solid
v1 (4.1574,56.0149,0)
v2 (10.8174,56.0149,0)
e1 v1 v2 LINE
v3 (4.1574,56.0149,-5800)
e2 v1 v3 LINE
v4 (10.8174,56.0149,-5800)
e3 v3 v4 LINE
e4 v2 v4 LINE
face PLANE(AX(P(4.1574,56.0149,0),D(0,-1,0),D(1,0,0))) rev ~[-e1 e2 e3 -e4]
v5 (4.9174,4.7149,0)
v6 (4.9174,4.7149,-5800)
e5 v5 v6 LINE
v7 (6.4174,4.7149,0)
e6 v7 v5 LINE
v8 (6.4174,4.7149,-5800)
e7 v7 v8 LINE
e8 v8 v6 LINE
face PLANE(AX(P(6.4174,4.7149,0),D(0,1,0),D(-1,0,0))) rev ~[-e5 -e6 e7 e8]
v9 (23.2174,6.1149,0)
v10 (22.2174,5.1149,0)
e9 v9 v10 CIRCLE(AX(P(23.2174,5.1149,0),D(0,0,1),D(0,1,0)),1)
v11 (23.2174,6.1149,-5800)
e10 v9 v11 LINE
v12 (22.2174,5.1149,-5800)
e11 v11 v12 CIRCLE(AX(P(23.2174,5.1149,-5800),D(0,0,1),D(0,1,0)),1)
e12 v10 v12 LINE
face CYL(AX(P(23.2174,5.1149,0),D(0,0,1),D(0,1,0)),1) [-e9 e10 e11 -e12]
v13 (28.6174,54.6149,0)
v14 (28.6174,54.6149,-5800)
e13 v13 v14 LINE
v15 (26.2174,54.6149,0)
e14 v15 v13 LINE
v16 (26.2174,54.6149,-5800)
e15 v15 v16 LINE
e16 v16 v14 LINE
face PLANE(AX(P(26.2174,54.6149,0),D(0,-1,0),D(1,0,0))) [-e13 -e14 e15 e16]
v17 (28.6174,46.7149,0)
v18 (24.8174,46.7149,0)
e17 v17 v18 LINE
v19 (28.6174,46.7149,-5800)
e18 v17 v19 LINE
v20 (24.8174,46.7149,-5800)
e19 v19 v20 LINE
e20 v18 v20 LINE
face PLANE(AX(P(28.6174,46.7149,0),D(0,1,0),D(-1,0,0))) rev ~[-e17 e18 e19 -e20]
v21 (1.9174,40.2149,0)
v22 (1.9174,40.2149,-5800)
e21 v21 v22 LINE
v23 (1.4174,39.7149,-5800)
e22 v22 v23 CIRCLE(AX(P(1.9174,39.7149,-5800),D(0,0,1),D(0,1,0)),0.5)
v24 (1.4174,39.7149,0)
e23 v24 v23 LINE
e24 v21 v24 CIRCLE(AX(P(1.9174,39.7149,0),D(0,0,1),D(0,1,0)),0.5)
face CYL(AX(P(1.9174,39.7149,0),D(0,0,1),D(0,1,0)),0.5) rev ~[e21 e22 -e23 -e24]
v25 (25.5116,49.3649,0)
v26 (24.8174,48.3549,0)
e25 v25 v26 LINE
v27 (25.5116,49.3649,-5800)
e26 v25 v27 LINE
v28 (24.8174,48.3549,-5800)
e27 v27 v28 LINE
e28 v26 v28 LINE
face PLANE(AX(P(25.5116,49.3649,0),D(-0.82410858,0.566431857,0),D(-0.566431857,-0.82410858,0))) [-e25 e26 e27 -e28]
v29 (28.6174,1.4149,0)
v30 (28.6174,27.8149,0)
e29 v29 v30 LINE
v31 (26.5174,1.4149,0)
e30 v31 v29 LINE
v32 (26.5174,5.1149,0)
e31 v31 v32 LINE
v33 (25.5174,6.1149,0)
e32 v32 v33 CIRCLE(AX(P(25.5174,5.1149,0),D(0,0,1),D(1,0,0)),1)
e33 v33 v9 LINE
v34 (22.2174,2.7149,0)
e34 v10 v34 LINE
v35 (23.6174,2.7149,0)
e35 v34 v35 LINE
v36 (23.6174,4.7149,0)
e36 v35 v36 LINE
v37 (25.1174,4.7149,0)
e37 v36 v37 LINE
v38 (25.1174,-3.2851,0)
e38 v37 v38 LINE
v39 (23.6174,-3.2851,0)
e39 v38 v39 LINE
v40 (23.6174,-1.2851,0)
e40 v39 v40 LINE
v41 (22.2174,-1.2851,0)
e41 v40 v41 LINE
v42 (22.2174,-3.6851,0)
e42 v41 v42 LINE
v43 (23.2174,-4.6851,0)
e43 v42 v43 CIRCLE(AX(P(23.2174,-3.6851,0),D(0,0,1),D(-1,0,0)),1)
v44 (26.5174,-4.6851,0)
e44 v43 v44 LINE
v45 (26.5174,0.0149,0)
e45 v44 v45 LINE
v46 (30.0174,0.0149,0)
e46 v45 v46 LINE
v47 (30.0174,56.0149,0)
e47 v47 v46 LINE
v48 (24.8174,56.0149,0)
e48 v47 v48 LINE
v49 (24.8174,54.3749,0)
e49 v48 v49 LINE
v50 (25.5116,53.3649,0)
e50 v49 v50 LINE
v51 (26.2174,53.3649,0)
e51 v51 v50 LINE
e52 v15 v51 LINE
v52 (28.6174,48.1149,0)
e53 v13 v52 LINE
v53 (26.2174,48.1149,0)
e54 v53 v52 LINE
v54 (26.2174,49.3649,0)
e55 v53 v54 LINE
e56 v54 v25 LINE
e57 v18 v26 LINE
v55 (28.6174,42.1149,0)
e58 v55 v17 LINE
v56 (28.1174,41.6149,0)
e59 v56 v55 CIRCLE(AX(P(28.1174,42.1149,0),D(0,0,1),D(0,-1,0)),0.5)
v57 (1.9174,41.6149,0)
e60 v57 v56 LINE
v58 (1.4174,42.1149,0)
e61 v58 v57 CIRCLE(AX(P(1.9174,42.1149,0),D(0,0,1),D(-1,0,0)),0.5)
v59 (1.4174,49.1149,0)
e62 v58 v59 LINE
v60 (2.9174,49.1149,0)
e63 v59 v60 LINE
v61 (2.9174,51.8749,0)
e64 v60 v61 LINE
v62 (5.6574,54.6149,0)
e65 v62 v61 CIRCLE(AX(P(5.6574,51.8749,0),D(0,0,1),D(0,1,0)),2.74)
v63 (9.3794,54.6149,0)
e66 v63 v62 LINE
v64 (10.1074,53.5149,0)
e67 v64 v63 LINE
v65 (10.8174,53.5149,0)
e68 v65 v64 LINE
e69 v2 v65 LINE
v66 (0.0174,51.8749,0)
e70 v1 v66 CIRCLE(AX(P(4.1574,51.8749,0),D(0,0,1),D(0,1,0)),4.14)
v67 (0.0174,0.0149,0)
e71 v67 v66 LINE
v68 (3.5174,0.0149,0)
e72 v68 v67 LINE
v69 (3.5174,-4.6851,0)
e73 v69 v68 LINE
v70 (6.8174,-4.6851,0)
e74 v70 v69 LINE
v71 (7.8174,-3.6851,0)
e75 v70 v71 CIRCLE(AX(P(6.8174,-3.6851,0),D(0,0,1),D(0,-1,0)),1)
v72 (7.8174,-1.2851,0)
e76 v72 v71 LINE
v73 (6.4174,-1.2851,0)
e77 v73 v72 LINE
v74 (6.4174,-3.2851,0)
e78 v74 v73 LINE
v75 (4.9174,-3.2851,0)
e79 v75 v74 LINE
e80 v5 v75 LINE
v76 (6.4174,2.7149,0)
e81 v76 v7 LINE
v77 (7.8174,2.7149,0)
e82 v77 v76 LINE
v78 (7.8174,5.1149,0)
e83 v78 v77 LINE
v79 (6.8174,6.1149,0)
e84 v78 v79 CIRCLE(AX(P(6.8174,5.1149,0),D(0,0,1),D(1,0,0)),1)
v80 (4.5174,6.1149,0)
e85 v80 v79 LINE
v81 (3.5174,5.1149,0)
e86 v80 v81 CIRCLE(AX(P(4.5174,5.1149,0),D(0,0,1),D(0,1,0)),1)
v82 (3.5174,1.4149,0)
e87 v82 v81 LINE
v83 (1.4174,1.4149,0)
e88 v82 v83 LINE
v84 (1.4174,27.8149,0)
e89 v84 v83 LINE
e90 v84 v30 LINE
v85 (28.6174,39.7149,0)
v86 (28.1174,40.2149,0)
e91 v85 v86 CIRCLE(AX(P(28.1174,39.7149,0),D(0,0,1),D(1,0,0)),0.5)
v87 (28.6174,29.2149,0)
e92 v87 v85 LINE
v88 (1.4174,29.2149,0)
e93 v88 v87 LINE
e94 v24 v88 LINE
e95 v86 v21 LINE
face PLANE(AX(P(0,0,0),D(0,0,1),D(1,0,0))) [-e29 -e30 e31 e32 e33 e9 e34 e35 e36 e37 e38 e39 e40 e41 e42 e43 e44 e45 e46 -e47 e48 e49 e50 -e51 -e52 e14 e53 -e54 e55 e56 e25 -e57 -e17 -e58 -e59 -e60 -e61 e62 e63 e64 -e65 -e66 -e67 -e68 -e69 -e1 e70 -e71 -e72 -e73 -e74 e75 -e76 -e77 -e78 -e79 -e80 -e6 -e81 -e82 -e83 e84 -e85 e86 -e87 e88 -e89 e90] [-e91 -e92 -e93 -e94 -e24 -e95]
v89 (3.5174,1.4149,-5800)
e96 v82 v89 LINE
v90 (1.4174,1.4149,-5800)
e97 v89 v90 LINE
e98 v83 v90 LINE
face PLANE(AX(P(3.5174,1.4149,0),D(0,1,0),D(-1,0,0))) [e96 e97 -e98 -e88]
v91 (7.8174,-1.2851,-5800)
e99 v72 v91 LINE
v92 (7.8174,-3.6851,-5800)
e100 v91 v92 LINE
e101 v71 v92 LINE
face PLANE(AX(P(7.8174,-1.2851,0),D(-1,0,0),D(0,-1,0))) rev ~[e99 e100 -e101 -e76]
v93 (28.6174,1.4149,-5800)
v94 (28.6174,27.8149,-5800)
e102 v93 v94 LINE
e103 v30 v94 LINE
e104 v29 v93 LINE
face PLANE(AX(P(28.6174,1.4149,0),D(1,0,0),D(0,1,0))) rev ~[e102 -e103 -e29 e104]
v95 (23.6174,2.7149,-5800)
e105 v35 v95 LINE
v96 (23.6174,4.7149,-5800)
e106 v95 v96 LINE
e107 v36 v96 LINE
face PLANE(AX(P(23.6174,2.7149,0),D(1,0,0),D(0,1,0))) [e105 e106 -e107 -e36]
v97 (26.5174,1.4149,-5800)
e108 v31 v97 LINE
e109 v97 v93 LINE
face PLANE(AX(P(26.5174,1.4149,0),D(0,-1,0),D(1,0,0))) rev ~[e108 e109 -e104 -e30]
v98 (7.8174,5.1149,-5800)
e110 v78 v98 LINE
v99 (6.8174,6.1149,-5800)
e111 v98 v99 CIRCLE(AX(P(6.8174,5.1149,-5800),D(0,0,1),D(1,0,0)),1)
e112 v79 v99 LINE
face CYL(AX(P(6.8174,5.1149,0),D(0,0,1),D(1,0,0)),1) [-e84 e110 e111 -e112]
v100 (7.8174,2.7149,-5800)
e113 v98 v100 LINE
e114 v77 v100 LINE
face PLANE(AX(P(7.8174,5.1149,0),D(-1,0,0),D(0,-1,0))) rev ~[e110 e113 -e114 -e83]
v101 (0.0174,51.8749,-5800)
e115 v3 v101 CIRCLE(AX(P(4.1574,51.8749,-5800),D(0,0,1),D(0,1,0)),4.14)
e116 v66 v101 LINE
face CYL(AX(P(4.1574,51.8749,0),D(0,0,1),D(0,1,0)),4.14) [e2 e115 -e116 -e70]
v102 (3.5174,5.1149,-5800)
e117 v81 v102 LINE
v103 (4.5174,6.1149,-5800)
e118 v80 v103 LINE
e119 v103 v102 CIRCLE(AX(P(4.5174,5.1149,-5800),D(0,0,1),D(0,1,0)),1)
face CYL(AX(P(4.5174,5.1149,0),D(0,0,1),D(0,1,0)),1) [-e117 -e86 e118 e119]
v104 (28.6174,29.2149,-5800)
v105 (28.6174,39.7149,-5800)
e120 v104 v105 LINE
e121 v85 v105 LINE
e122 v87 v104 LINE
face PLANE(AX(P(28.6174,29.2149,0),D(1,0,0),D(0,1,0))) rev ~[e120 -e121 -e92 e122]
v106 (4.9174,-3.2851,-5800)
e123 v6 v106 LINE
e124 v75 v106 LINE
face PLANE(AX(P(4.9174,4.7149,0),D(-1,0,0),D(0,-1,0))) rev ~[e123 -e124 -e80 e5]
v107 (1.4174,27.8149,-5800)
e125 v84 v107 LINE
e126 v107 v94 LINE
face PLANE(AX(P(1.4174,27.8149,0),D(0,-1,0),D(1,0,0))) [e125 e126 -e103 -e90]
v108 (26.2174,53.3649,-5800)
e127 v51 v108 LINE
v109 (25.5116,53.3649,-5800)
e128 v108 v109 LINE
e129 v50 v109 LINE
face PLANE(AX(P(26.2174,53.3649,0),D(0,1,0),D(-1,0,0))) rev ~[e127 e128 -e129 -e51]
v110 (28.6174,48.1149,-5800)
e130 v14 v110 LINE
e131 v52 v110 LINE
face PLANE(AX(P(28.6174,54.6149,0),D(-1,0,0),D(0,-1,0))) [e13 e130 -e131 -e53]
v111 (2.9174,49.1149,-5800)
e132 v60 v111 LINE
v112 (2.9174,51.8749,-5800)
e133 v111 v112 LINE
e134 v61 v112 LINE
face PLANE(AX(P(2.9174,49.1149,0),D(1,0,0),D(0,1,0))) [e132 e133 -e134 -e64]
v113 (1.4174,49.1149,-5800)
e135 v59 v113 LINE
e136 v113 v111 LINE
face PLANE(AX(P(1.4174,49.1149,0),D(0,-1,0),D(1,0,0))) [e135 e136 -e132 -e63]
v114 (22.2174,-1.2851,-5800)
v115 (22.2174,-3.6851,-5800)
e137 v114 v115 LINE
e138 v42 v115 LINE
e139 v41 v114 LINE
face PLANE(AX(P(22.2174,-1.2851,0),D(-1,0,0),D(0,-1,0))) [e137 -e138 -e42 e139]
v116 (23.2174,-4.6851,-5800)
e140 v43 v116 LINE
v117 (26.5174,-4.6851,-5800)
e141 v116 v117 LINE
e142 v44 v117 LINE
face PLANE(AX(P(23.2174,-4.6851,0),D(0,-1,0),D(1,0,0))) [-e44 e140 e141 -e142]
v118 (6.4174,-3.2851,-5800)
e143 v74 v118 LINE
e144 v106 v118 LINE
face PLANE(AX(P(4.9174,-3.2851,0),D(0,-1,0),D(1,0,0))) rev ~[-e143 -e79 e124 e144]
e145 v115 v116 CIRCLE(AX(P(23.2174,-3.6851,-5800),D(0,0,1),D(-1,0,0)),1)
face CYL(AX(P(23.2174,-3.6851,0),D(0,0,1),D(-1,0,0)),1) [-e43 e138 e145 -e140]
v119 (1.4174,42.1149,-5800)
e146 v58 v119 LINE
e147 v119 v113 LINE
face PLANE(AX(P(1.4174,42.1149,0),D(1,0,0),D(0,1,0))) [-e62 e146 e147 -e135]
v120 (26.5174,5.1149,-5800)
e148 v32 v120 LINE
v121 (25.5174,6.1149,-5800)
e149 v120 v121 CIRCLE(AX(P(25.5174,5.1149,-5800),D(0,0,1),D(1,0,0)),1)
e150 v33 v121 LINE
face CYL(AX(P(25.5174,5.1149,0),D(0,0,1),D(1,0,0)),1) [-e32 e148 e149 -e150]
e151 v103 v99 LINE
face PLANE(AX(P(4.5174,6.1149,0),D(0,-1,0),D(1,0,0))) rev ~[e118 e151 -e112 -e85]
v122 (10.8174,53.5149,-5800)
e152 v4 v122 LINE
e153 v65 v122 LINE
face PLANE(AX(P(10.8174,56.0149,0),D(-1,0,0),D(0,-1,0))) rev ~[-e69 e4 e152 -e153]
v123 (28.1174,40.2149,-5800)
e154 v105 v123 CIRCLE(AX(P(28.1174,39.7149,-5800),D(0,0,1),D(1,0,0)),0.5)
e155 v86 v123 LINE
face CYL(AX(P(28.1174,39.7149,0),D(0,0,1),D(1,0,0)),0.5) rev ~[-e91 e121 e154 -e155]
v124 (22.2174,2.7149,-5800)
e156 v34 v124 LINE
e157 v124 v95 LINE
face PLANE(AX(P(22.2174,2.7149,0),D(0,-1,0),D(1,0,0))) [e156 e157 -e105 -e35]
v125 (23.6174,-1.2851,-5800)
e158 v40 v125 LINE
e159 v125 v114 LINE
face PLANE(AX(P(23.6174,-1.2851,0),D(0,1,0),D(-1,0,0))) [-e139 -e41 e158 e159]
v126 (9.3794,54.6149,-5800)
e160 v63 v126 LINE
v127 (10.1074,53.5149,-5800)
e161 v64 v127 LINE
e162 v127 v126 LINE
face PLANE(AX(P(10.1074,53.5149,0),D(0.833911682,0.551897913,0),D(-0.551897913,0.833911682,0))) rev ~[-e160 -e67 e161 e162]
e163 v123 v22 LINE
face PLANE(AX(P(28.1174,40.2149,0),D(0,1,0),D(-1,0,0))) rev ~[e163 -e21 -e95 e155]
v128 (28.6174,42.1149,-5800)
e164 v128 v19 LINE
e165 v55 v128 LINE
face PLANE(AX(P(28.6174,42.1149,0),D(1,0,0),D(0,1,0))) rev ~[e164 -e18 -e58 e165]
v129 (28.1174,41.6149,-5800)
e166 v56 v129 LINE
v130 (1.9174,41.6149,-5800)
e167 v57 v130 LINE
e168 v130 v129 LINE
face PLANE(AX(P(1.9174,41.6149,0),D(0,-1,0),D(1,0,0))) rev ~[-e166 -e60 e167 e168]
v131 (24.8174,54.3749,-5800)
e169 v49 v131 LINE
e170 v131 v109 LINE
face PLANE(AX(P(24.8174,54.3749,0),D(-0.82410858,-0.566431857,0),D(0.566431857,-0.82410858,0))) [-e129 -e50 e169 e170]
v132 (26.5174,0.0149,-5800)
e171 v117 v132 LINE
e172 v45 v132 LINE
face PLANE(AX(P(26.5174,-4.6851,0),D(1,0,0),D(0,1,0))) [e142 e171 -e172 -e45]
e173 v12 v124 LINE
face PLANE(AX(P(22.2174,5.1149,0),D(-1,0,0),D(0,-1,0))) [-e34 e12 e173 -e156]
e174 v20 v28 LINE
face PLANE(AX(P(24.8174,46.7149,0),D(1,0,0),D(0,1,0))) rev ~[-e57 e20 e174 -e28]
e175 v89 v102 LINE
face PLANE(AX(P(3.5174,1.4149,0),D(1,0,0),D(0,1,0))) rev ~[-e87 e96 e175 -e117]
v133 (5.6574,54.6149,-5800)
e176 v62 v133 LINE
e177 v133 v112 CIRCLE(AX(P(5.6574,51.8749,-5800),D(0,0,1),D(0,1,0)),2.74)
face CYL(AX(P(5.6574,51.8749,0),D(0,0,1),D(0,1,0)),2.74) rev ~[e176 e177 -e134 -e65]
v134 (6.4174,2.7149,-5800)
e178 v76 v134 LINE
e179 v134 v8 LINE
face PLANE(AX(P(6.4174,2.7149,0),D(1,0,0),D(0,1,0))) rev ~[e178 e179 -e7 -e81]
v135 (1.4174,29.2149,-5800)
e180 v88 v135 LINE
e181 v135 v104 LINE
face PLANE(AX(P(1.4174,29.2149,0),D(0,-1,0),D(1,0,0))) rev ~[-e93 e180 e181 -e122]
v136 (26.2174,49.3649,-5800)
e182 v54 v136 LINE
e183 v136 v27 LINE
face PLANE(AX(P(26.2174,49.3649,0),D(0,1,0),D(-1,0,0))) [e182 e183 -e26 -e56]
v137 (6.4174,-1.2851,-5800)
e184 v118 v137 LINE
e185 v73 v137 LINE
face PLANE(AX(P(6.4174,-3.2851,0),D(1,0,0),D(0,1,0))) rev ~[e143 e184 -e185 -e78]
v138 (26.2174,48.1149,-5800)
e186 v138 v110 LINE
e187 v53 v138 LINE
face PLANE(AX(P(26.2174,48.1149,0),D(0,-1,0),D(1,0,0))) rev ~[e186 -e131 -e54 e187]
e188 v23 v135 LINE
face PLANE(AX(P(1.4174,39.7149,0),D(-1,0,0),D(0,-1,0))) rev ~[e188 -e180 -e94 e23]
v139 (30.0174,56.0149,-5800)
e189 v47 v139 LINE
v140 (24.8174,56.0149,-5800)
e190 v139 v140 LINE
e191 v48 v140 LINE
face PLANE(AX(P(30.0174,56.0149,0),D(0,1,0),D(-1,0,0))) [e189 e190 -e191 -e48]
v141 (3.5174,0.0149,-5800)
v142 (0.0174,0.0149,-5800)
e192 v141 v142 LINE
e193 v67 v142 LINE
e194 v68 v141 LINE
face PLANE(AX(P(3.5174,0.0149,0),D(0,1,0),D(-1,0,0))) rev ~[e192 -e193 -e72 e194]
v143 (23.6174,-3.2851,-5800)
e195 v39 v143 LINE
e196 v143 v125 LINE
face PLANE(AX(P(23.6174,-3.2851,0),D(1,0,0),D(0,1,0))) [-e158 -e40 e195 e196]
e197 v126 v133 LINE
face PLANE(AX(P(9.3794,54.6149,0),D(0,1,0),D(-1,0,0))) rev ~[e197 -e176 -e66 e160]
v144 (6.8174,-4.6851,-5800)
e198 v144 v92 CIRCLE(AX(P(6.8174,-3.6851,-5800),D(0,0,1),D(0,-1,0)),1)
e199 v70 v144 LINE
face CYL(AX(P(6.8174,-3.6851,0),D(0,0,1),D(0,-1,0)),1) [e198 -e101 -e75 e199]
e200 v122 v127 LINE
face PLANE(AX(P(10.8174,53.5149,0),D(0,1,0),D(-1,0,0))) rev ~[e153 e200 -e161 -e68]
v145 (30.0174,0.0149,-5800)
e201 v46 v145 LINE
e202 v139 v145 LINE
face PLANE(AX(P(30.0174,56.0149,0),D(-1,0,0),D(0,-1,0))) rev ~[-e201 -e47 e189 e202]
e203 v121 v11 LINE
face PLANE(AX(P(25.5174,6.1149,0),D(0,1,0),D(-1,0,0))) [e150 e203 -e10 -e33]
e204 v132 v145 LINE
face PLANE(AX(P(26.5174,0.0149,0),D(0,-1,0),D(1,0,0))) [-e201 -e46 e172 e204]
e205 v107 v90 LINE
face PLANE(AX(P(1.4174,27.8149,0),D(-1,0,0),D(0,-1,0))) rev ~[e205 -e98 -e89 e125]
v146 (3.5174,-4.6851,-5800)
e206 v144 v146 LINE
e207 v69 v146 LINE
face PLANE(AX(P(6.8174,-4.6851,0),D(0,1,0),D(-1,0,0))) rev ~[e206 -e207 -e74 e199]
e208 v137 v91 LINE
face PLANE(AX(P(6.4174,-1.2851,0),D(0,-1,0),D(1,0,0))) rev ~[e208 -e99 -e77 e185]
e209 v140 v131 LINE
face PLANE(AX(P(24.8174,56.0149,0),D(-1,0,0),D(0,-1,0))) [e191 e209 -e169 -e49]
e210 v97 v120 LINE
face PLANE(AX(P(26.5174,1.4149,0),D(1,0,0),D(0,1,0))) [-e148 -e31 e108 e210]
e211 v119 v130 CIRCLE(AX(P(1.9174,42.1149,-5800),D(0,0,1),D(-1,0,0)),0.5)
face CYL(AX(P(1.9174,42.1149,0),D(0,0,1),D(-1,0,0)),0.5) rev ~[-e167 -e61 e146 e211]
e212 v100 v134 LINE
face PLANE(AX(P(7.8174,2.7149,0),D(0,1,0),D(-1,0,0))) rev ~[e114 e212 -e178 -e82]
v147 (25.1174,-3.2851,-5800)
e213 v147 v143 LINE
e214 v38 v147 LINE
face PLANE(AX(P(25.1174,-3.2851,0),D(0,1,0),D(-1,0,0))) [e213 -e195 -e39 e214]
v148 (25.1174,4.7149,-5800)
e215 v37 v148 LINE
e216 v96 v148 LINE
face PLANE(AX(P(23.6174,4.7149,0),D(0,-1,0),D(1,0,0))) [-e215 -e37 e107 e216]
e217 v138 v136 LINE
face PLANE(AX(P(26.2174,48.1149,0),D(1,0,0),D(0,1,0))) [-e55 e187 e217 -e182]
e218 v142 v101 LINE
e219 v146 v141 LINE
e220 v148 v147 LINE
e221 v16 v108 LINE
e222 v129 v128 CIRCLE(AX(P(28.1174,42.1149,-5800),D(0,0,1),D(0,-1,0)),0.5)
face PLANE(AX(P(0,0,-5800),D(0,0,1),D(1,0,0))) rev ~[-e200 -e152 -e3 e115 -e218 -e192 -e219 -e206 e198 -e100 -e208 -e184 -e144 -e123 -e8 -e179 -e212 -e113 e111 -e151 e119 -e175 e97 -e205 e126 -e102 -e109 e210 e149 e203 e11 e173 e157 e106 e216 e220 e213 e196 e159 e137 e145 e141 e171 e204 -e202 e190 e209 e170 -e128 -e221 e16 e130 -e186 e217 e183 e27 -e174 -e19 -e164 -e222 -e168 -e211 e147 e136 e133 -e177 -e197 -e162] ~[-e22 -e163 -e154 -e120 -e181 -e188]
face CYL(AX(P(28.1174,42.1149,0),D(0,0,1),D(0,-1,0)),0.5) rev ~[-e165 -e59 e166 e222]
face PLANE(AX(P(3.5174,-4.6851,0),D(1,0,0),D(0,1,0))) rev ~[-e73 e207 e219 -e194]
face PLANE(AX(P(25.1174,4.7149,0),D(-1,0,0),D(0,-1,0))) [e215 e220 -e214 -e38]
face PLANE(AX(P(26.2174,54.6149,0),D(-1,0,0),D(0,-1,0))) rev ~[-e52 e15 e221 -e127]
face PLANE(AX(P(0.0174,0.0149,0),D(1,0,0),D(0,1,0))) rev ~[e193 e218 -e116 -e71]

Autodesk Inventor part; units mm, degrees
ref_plane "YZ Plane" through (0, 0, 0) normal (1, 0, 0) x (0, 1, 0)
ref_plane "XZ Plane" through (0, 0, 0) normal (0, 1, 0) x (-1, 0, 0)
ref_plane "XY Plane" through (0, 0, 0) normal (0, 0, 1) x (1, 0, 0)
sketch "Boceto1" plane through (0, 0, 0) normal (0, 0, 1) x (1, 0, 0)
  line L0 (28.1174, 40.2149) -> (1.9174, 40.2149)
  line L1 (1.9174, 41.6149) -> (28.1174, 41.6149)
  line L2 (0.0174, 0.0149) -> (0.0174, 51.8749)
  line L3 (24.8174, 56.0149) -> (24.8174, 54.3749)
  line L4 (28.6174, 54.6149) -> (28.6174, 48.1149)
  line L5 (28.6174, 46.7149) -> (24.8174, 46.7149)
  line L6 (24.8174, 46.7149) -> (24.8174, 48.3549)
  line L7 (26.2174, 48.1149) -> (28.6174, 48.1149)
  line L8 (26.2174, 49.3649) -> (25.5116, 49.3649)
  line L9 (25.5116, 49.3649) -> (24.8174, 48.3549)
  line L10 (26.2174, 53.3649) -> (25.5116, 53.3649)
  line L11 (1.4174, 42.1149) -> (1.4174, 49.1149)
  line L12 (1.4174, 49.1149) -> (2.9174, 49.1149)
  line L13 (2.9174, 49.1149) -> (2.9174, 51.8749)
  line L14 (4.1574, 56.0149) -> (10.8174, 56.0149)
  line L15 (9.3794, 54.6149) -> (5.6574, 54.6149)
  line L16 (10.8174, 56.0149) -> (10.8174, 53.5149)
  line L17 (10.8174, 53.5149) -> (10.1074, 53.5149)
  line L18 (10.1074, 53.5149) -> (9.3794, 54.6149)
  line L19 (26.2174, 54.6149) -> (28.6174, 54.6149)
  arc A0 (5.6574, 54.6149) -> (2.9174, 51.8749) centre (5.6574, 51.8749) ccw
  arc A1 (4.1574, 56.0149) -> (0.0174, 51.8749) centre (4.1574, 51.8749) ccw
  line L20 (24.8174, 54.3749) -> (25.5116, 53.3649)
  line L21 (26.2174, 54.6149) -> (26.2174, 53.3649)
  line L22 (26.2174, 48.1149) -> (26.2174, 49.3649)
  arc A2 (1.9174, 40.2149) -> (1.4174, 39.7149) centre (1.9174, 39.7149) ccw
  arc A3 (28.6174, 39.7149) -> (28.1174, 40.2149) centre (28.1174, 39.7149) ccw
  arc A4 (28.1174, 41.6149) -> (28.6174, 42.1149) centre (28.1174, 42.1149) ccw
  arc A5 (1.4174, 42.1149) -> (1.9174, 41.6149) centre (1.9174, 42.1149) ccw
  line L23 (30.0174, 56.0149) -> (24.8174, 56.0149)
  line L24 (28.6174, 42.1149) -> (28.6174, 46.7149)
  line L25 (30.0174, 56.0149) -> (30.0174, 0.0149)
  line L26 (1.4174, 29.2149) -> (28.6174, 29.2149)
  line L27 (1.4174, 27.8149) -> (28.6174, 27.8149)
  line L28 (1.4174, 39.7149) -> (1.4174, 29.2149)
  line L29 (1.4174, 27.8149) -> (1.4174, 1.4149)
  line L30 (28.6174, 1.4149) -> (28.6174, 27.8149)
  line L31 (28.6174, 29.2149) -> (28.6174, 39.7149)
  line L32 (28.6174, 39.7149) -> (28.6174, 29.2149)
  line L33 (28.6174, 27.8149) -> (28.6174, 1.4149)
  line L34 (4.5174, 6.1149) -> (6.8174, 6.1149)
  line L35 (7.8174, 5.1149) -> (7.8174, 2.7149)
  line L36 (7.8174, 2.7149) -> (6.4174, 2.7149)
  line L37 (6.4174, 2.7149) -> (6.4174, 4.7149)
  line L38 (6.4174, 4.7149) -> (4.9174, 4.7149)
  line L39 (4.9174, 4.7149) -> (4.9174, -3.2851)
  line L40 (4.9174, -3.2851) -> (6.4174, -3.2851)
  line L41 (6.4174, -3.2851) -> (6.4174, -1.2851)
  line L42 (6.4174, -1.2851) -> (7.8174, -1.2851)
  line L43 (7.8174, -1.2851) -> (7.8174, -3.6851)
  line L44 (6.8174, -4.6851) -> (3.5174, -4.6851)
  line L45 (3.5174, -4.6851) -> (3.5174, 0.0149)
  arc A6 (7.8174, 5.1149) -> (6.8174, 6.1149) centre (6.8174, 5.1149) ccw
  arc A7 (4.5174, 6.1149) -> (3.5174, 5.1149) centre (4.5174, 5.1149) ccw
  arc A8 (6.8174, -4.6851) -> (7.8174, -3.6851) centre (6.8174, -3.6851) ccw
  line L46 (3.5174, 1.4149) -> (1.4174, 1.4149)
  line L47 (3.5174, 0.0149) -> (0.0174, 0.0149)
  line L48 (3.5174, 1.4149) -> (3.5174, 5.1149)
  line L49 (25.5174, 6.1149) -> (23.2174, 6.1149)
  line L50 (22.2174, 5.1149) -> (22.2174, 2.7149)
  line L51 (22.2174, 2.7149) -> (23.6174, 2.7149)
  line L52 (23.6174, 2.7149) -> (23.6174, 4.7149)
  line L53 (23.6174, 4.7149) -> (25.1174, 4.7149)
  line L54 (25.1174, 4.7149) -> (25.1174, -3.2851)
  line L55 (25.1174, -3.2851) -> (23.6174, -3.2851)
  line L56 (23.6174, -3.2851) -> (23.6174, -1.2851)
  line L57 (23.6174, -1.2851) -> (22.2174, -1.2851)
  line L58 (22.2174, -1.2851) -> (22.2174, -3.6851)
  line L59 (23.2174, -4.6851) -> (26.5174, -4.6851)
  line L60 (26.5174, -4.6851) -> (26.5174, 0.0149)
  arc A9 (23.2174, 6.1149) -> (22.2174, 5.1149) centre (23.2174, 5.1149) ccw
  arc A10 (26.5174, 5.1149) -> (25.5174, 6.1149) centre (25.5174, 5.1149) ccw
  arc A11 (22.2174, -3.6851) -> (23.2174, -4.6851) centre (23.2174, -3.6851) ccw
  line L61 (26.5174, 1.4149) -> (28.6174, 1.4149)
  line L62 (26.5174, 0.0149) -> (30.0174, 0.0149)
  line L63 (26.5174, 1.4149) -> (26.5174, 5.1149)
  point P0 (28.6174, 51.3649)
  point P1 (0.0174, 0.9149)
  point P2 (4.9174, 0.7149)
  point P3 (25.1174, 0.7149)
  dimension "d31" = 1.4
  dimension "d42" = 2.5
  dimension "d43" = 0.71
  dimension "d45" = 2.9
  dimension "d47" = 33.5
  dimension "d48" = 7.5
  dimension "d51" = 2.74
  dimension "d59" = 6.9
  dimension "d60" = 1.4
  dimension "d78" = 6.5
  dimension "d84" = 1.4
  dimension "d85" = 1.4
  dimension "d88" = 2.4
  dimension "d95" = 6.02
  dimension "d99" = 111
  dimension "d100" = 2.4
  dimension "d109" = 0.7058
  dimension "d110" = 0.7058
  dimension "d143" = 1.4
  dimension "d147" = 1.4
  dimension "d148" = 30
  dimension "d149" = 1.4
  dimension "d150" = 14
  dimension "d151" = 27.2
  dimension "d152" = 14.4
  dimension "d153" = 1.4
  dimension "d154" = 11
  dimension "d155" = 1.4
  dimension "d156" = 1.4
  dimension "d157" = 1.4
  dimension "d158" = 1.4
  dimension "d162" = 60.7
  dimension "d163" = 10.8
  dimension "d164" = 8
  dimension "d165" = 2
  dimension "d166" = 4
  dimension "d167" = 1.5
  dimension "d168" = 7.8
  dimension "d169" = 1
  dimension "d172" = 1.4
  dimension "d173" = 4.7
  dimension "d175" = 56
  dimension "d176" = 13.8
  dimension "d177" = 14.4
  dimension "d180" = 1.5
  dimension "d181" = 4.14
  dimension "d182" = 10.8
  dimension "d183" = 14.4
  dimension "d184" = 0.5
  dimension "d187" = 3.5
  dimension "d188" = 4.9
  dimension "d189" = 6.4
  dimension "d190" = 7.8
  dimension "d191" = 26.5
  dimension "d193" = 54.6
  dimension "d195" = 3.5
  dimension "d196" = 4.9
  dimension "d197" = 53.9
  dimension "d198" = 53.7
  dimension "d199" = 2
  dimension "d200" = 2
  dimension "d201" = 4
  dimension "d202" = 3.01
  dimension "d203" = 9.3
extrude "Extrusión1" add sketch "Boceto1" against normal blind 5800
properties part number "SP40-10 HOJA CORREDERA" material "Aluminio"
